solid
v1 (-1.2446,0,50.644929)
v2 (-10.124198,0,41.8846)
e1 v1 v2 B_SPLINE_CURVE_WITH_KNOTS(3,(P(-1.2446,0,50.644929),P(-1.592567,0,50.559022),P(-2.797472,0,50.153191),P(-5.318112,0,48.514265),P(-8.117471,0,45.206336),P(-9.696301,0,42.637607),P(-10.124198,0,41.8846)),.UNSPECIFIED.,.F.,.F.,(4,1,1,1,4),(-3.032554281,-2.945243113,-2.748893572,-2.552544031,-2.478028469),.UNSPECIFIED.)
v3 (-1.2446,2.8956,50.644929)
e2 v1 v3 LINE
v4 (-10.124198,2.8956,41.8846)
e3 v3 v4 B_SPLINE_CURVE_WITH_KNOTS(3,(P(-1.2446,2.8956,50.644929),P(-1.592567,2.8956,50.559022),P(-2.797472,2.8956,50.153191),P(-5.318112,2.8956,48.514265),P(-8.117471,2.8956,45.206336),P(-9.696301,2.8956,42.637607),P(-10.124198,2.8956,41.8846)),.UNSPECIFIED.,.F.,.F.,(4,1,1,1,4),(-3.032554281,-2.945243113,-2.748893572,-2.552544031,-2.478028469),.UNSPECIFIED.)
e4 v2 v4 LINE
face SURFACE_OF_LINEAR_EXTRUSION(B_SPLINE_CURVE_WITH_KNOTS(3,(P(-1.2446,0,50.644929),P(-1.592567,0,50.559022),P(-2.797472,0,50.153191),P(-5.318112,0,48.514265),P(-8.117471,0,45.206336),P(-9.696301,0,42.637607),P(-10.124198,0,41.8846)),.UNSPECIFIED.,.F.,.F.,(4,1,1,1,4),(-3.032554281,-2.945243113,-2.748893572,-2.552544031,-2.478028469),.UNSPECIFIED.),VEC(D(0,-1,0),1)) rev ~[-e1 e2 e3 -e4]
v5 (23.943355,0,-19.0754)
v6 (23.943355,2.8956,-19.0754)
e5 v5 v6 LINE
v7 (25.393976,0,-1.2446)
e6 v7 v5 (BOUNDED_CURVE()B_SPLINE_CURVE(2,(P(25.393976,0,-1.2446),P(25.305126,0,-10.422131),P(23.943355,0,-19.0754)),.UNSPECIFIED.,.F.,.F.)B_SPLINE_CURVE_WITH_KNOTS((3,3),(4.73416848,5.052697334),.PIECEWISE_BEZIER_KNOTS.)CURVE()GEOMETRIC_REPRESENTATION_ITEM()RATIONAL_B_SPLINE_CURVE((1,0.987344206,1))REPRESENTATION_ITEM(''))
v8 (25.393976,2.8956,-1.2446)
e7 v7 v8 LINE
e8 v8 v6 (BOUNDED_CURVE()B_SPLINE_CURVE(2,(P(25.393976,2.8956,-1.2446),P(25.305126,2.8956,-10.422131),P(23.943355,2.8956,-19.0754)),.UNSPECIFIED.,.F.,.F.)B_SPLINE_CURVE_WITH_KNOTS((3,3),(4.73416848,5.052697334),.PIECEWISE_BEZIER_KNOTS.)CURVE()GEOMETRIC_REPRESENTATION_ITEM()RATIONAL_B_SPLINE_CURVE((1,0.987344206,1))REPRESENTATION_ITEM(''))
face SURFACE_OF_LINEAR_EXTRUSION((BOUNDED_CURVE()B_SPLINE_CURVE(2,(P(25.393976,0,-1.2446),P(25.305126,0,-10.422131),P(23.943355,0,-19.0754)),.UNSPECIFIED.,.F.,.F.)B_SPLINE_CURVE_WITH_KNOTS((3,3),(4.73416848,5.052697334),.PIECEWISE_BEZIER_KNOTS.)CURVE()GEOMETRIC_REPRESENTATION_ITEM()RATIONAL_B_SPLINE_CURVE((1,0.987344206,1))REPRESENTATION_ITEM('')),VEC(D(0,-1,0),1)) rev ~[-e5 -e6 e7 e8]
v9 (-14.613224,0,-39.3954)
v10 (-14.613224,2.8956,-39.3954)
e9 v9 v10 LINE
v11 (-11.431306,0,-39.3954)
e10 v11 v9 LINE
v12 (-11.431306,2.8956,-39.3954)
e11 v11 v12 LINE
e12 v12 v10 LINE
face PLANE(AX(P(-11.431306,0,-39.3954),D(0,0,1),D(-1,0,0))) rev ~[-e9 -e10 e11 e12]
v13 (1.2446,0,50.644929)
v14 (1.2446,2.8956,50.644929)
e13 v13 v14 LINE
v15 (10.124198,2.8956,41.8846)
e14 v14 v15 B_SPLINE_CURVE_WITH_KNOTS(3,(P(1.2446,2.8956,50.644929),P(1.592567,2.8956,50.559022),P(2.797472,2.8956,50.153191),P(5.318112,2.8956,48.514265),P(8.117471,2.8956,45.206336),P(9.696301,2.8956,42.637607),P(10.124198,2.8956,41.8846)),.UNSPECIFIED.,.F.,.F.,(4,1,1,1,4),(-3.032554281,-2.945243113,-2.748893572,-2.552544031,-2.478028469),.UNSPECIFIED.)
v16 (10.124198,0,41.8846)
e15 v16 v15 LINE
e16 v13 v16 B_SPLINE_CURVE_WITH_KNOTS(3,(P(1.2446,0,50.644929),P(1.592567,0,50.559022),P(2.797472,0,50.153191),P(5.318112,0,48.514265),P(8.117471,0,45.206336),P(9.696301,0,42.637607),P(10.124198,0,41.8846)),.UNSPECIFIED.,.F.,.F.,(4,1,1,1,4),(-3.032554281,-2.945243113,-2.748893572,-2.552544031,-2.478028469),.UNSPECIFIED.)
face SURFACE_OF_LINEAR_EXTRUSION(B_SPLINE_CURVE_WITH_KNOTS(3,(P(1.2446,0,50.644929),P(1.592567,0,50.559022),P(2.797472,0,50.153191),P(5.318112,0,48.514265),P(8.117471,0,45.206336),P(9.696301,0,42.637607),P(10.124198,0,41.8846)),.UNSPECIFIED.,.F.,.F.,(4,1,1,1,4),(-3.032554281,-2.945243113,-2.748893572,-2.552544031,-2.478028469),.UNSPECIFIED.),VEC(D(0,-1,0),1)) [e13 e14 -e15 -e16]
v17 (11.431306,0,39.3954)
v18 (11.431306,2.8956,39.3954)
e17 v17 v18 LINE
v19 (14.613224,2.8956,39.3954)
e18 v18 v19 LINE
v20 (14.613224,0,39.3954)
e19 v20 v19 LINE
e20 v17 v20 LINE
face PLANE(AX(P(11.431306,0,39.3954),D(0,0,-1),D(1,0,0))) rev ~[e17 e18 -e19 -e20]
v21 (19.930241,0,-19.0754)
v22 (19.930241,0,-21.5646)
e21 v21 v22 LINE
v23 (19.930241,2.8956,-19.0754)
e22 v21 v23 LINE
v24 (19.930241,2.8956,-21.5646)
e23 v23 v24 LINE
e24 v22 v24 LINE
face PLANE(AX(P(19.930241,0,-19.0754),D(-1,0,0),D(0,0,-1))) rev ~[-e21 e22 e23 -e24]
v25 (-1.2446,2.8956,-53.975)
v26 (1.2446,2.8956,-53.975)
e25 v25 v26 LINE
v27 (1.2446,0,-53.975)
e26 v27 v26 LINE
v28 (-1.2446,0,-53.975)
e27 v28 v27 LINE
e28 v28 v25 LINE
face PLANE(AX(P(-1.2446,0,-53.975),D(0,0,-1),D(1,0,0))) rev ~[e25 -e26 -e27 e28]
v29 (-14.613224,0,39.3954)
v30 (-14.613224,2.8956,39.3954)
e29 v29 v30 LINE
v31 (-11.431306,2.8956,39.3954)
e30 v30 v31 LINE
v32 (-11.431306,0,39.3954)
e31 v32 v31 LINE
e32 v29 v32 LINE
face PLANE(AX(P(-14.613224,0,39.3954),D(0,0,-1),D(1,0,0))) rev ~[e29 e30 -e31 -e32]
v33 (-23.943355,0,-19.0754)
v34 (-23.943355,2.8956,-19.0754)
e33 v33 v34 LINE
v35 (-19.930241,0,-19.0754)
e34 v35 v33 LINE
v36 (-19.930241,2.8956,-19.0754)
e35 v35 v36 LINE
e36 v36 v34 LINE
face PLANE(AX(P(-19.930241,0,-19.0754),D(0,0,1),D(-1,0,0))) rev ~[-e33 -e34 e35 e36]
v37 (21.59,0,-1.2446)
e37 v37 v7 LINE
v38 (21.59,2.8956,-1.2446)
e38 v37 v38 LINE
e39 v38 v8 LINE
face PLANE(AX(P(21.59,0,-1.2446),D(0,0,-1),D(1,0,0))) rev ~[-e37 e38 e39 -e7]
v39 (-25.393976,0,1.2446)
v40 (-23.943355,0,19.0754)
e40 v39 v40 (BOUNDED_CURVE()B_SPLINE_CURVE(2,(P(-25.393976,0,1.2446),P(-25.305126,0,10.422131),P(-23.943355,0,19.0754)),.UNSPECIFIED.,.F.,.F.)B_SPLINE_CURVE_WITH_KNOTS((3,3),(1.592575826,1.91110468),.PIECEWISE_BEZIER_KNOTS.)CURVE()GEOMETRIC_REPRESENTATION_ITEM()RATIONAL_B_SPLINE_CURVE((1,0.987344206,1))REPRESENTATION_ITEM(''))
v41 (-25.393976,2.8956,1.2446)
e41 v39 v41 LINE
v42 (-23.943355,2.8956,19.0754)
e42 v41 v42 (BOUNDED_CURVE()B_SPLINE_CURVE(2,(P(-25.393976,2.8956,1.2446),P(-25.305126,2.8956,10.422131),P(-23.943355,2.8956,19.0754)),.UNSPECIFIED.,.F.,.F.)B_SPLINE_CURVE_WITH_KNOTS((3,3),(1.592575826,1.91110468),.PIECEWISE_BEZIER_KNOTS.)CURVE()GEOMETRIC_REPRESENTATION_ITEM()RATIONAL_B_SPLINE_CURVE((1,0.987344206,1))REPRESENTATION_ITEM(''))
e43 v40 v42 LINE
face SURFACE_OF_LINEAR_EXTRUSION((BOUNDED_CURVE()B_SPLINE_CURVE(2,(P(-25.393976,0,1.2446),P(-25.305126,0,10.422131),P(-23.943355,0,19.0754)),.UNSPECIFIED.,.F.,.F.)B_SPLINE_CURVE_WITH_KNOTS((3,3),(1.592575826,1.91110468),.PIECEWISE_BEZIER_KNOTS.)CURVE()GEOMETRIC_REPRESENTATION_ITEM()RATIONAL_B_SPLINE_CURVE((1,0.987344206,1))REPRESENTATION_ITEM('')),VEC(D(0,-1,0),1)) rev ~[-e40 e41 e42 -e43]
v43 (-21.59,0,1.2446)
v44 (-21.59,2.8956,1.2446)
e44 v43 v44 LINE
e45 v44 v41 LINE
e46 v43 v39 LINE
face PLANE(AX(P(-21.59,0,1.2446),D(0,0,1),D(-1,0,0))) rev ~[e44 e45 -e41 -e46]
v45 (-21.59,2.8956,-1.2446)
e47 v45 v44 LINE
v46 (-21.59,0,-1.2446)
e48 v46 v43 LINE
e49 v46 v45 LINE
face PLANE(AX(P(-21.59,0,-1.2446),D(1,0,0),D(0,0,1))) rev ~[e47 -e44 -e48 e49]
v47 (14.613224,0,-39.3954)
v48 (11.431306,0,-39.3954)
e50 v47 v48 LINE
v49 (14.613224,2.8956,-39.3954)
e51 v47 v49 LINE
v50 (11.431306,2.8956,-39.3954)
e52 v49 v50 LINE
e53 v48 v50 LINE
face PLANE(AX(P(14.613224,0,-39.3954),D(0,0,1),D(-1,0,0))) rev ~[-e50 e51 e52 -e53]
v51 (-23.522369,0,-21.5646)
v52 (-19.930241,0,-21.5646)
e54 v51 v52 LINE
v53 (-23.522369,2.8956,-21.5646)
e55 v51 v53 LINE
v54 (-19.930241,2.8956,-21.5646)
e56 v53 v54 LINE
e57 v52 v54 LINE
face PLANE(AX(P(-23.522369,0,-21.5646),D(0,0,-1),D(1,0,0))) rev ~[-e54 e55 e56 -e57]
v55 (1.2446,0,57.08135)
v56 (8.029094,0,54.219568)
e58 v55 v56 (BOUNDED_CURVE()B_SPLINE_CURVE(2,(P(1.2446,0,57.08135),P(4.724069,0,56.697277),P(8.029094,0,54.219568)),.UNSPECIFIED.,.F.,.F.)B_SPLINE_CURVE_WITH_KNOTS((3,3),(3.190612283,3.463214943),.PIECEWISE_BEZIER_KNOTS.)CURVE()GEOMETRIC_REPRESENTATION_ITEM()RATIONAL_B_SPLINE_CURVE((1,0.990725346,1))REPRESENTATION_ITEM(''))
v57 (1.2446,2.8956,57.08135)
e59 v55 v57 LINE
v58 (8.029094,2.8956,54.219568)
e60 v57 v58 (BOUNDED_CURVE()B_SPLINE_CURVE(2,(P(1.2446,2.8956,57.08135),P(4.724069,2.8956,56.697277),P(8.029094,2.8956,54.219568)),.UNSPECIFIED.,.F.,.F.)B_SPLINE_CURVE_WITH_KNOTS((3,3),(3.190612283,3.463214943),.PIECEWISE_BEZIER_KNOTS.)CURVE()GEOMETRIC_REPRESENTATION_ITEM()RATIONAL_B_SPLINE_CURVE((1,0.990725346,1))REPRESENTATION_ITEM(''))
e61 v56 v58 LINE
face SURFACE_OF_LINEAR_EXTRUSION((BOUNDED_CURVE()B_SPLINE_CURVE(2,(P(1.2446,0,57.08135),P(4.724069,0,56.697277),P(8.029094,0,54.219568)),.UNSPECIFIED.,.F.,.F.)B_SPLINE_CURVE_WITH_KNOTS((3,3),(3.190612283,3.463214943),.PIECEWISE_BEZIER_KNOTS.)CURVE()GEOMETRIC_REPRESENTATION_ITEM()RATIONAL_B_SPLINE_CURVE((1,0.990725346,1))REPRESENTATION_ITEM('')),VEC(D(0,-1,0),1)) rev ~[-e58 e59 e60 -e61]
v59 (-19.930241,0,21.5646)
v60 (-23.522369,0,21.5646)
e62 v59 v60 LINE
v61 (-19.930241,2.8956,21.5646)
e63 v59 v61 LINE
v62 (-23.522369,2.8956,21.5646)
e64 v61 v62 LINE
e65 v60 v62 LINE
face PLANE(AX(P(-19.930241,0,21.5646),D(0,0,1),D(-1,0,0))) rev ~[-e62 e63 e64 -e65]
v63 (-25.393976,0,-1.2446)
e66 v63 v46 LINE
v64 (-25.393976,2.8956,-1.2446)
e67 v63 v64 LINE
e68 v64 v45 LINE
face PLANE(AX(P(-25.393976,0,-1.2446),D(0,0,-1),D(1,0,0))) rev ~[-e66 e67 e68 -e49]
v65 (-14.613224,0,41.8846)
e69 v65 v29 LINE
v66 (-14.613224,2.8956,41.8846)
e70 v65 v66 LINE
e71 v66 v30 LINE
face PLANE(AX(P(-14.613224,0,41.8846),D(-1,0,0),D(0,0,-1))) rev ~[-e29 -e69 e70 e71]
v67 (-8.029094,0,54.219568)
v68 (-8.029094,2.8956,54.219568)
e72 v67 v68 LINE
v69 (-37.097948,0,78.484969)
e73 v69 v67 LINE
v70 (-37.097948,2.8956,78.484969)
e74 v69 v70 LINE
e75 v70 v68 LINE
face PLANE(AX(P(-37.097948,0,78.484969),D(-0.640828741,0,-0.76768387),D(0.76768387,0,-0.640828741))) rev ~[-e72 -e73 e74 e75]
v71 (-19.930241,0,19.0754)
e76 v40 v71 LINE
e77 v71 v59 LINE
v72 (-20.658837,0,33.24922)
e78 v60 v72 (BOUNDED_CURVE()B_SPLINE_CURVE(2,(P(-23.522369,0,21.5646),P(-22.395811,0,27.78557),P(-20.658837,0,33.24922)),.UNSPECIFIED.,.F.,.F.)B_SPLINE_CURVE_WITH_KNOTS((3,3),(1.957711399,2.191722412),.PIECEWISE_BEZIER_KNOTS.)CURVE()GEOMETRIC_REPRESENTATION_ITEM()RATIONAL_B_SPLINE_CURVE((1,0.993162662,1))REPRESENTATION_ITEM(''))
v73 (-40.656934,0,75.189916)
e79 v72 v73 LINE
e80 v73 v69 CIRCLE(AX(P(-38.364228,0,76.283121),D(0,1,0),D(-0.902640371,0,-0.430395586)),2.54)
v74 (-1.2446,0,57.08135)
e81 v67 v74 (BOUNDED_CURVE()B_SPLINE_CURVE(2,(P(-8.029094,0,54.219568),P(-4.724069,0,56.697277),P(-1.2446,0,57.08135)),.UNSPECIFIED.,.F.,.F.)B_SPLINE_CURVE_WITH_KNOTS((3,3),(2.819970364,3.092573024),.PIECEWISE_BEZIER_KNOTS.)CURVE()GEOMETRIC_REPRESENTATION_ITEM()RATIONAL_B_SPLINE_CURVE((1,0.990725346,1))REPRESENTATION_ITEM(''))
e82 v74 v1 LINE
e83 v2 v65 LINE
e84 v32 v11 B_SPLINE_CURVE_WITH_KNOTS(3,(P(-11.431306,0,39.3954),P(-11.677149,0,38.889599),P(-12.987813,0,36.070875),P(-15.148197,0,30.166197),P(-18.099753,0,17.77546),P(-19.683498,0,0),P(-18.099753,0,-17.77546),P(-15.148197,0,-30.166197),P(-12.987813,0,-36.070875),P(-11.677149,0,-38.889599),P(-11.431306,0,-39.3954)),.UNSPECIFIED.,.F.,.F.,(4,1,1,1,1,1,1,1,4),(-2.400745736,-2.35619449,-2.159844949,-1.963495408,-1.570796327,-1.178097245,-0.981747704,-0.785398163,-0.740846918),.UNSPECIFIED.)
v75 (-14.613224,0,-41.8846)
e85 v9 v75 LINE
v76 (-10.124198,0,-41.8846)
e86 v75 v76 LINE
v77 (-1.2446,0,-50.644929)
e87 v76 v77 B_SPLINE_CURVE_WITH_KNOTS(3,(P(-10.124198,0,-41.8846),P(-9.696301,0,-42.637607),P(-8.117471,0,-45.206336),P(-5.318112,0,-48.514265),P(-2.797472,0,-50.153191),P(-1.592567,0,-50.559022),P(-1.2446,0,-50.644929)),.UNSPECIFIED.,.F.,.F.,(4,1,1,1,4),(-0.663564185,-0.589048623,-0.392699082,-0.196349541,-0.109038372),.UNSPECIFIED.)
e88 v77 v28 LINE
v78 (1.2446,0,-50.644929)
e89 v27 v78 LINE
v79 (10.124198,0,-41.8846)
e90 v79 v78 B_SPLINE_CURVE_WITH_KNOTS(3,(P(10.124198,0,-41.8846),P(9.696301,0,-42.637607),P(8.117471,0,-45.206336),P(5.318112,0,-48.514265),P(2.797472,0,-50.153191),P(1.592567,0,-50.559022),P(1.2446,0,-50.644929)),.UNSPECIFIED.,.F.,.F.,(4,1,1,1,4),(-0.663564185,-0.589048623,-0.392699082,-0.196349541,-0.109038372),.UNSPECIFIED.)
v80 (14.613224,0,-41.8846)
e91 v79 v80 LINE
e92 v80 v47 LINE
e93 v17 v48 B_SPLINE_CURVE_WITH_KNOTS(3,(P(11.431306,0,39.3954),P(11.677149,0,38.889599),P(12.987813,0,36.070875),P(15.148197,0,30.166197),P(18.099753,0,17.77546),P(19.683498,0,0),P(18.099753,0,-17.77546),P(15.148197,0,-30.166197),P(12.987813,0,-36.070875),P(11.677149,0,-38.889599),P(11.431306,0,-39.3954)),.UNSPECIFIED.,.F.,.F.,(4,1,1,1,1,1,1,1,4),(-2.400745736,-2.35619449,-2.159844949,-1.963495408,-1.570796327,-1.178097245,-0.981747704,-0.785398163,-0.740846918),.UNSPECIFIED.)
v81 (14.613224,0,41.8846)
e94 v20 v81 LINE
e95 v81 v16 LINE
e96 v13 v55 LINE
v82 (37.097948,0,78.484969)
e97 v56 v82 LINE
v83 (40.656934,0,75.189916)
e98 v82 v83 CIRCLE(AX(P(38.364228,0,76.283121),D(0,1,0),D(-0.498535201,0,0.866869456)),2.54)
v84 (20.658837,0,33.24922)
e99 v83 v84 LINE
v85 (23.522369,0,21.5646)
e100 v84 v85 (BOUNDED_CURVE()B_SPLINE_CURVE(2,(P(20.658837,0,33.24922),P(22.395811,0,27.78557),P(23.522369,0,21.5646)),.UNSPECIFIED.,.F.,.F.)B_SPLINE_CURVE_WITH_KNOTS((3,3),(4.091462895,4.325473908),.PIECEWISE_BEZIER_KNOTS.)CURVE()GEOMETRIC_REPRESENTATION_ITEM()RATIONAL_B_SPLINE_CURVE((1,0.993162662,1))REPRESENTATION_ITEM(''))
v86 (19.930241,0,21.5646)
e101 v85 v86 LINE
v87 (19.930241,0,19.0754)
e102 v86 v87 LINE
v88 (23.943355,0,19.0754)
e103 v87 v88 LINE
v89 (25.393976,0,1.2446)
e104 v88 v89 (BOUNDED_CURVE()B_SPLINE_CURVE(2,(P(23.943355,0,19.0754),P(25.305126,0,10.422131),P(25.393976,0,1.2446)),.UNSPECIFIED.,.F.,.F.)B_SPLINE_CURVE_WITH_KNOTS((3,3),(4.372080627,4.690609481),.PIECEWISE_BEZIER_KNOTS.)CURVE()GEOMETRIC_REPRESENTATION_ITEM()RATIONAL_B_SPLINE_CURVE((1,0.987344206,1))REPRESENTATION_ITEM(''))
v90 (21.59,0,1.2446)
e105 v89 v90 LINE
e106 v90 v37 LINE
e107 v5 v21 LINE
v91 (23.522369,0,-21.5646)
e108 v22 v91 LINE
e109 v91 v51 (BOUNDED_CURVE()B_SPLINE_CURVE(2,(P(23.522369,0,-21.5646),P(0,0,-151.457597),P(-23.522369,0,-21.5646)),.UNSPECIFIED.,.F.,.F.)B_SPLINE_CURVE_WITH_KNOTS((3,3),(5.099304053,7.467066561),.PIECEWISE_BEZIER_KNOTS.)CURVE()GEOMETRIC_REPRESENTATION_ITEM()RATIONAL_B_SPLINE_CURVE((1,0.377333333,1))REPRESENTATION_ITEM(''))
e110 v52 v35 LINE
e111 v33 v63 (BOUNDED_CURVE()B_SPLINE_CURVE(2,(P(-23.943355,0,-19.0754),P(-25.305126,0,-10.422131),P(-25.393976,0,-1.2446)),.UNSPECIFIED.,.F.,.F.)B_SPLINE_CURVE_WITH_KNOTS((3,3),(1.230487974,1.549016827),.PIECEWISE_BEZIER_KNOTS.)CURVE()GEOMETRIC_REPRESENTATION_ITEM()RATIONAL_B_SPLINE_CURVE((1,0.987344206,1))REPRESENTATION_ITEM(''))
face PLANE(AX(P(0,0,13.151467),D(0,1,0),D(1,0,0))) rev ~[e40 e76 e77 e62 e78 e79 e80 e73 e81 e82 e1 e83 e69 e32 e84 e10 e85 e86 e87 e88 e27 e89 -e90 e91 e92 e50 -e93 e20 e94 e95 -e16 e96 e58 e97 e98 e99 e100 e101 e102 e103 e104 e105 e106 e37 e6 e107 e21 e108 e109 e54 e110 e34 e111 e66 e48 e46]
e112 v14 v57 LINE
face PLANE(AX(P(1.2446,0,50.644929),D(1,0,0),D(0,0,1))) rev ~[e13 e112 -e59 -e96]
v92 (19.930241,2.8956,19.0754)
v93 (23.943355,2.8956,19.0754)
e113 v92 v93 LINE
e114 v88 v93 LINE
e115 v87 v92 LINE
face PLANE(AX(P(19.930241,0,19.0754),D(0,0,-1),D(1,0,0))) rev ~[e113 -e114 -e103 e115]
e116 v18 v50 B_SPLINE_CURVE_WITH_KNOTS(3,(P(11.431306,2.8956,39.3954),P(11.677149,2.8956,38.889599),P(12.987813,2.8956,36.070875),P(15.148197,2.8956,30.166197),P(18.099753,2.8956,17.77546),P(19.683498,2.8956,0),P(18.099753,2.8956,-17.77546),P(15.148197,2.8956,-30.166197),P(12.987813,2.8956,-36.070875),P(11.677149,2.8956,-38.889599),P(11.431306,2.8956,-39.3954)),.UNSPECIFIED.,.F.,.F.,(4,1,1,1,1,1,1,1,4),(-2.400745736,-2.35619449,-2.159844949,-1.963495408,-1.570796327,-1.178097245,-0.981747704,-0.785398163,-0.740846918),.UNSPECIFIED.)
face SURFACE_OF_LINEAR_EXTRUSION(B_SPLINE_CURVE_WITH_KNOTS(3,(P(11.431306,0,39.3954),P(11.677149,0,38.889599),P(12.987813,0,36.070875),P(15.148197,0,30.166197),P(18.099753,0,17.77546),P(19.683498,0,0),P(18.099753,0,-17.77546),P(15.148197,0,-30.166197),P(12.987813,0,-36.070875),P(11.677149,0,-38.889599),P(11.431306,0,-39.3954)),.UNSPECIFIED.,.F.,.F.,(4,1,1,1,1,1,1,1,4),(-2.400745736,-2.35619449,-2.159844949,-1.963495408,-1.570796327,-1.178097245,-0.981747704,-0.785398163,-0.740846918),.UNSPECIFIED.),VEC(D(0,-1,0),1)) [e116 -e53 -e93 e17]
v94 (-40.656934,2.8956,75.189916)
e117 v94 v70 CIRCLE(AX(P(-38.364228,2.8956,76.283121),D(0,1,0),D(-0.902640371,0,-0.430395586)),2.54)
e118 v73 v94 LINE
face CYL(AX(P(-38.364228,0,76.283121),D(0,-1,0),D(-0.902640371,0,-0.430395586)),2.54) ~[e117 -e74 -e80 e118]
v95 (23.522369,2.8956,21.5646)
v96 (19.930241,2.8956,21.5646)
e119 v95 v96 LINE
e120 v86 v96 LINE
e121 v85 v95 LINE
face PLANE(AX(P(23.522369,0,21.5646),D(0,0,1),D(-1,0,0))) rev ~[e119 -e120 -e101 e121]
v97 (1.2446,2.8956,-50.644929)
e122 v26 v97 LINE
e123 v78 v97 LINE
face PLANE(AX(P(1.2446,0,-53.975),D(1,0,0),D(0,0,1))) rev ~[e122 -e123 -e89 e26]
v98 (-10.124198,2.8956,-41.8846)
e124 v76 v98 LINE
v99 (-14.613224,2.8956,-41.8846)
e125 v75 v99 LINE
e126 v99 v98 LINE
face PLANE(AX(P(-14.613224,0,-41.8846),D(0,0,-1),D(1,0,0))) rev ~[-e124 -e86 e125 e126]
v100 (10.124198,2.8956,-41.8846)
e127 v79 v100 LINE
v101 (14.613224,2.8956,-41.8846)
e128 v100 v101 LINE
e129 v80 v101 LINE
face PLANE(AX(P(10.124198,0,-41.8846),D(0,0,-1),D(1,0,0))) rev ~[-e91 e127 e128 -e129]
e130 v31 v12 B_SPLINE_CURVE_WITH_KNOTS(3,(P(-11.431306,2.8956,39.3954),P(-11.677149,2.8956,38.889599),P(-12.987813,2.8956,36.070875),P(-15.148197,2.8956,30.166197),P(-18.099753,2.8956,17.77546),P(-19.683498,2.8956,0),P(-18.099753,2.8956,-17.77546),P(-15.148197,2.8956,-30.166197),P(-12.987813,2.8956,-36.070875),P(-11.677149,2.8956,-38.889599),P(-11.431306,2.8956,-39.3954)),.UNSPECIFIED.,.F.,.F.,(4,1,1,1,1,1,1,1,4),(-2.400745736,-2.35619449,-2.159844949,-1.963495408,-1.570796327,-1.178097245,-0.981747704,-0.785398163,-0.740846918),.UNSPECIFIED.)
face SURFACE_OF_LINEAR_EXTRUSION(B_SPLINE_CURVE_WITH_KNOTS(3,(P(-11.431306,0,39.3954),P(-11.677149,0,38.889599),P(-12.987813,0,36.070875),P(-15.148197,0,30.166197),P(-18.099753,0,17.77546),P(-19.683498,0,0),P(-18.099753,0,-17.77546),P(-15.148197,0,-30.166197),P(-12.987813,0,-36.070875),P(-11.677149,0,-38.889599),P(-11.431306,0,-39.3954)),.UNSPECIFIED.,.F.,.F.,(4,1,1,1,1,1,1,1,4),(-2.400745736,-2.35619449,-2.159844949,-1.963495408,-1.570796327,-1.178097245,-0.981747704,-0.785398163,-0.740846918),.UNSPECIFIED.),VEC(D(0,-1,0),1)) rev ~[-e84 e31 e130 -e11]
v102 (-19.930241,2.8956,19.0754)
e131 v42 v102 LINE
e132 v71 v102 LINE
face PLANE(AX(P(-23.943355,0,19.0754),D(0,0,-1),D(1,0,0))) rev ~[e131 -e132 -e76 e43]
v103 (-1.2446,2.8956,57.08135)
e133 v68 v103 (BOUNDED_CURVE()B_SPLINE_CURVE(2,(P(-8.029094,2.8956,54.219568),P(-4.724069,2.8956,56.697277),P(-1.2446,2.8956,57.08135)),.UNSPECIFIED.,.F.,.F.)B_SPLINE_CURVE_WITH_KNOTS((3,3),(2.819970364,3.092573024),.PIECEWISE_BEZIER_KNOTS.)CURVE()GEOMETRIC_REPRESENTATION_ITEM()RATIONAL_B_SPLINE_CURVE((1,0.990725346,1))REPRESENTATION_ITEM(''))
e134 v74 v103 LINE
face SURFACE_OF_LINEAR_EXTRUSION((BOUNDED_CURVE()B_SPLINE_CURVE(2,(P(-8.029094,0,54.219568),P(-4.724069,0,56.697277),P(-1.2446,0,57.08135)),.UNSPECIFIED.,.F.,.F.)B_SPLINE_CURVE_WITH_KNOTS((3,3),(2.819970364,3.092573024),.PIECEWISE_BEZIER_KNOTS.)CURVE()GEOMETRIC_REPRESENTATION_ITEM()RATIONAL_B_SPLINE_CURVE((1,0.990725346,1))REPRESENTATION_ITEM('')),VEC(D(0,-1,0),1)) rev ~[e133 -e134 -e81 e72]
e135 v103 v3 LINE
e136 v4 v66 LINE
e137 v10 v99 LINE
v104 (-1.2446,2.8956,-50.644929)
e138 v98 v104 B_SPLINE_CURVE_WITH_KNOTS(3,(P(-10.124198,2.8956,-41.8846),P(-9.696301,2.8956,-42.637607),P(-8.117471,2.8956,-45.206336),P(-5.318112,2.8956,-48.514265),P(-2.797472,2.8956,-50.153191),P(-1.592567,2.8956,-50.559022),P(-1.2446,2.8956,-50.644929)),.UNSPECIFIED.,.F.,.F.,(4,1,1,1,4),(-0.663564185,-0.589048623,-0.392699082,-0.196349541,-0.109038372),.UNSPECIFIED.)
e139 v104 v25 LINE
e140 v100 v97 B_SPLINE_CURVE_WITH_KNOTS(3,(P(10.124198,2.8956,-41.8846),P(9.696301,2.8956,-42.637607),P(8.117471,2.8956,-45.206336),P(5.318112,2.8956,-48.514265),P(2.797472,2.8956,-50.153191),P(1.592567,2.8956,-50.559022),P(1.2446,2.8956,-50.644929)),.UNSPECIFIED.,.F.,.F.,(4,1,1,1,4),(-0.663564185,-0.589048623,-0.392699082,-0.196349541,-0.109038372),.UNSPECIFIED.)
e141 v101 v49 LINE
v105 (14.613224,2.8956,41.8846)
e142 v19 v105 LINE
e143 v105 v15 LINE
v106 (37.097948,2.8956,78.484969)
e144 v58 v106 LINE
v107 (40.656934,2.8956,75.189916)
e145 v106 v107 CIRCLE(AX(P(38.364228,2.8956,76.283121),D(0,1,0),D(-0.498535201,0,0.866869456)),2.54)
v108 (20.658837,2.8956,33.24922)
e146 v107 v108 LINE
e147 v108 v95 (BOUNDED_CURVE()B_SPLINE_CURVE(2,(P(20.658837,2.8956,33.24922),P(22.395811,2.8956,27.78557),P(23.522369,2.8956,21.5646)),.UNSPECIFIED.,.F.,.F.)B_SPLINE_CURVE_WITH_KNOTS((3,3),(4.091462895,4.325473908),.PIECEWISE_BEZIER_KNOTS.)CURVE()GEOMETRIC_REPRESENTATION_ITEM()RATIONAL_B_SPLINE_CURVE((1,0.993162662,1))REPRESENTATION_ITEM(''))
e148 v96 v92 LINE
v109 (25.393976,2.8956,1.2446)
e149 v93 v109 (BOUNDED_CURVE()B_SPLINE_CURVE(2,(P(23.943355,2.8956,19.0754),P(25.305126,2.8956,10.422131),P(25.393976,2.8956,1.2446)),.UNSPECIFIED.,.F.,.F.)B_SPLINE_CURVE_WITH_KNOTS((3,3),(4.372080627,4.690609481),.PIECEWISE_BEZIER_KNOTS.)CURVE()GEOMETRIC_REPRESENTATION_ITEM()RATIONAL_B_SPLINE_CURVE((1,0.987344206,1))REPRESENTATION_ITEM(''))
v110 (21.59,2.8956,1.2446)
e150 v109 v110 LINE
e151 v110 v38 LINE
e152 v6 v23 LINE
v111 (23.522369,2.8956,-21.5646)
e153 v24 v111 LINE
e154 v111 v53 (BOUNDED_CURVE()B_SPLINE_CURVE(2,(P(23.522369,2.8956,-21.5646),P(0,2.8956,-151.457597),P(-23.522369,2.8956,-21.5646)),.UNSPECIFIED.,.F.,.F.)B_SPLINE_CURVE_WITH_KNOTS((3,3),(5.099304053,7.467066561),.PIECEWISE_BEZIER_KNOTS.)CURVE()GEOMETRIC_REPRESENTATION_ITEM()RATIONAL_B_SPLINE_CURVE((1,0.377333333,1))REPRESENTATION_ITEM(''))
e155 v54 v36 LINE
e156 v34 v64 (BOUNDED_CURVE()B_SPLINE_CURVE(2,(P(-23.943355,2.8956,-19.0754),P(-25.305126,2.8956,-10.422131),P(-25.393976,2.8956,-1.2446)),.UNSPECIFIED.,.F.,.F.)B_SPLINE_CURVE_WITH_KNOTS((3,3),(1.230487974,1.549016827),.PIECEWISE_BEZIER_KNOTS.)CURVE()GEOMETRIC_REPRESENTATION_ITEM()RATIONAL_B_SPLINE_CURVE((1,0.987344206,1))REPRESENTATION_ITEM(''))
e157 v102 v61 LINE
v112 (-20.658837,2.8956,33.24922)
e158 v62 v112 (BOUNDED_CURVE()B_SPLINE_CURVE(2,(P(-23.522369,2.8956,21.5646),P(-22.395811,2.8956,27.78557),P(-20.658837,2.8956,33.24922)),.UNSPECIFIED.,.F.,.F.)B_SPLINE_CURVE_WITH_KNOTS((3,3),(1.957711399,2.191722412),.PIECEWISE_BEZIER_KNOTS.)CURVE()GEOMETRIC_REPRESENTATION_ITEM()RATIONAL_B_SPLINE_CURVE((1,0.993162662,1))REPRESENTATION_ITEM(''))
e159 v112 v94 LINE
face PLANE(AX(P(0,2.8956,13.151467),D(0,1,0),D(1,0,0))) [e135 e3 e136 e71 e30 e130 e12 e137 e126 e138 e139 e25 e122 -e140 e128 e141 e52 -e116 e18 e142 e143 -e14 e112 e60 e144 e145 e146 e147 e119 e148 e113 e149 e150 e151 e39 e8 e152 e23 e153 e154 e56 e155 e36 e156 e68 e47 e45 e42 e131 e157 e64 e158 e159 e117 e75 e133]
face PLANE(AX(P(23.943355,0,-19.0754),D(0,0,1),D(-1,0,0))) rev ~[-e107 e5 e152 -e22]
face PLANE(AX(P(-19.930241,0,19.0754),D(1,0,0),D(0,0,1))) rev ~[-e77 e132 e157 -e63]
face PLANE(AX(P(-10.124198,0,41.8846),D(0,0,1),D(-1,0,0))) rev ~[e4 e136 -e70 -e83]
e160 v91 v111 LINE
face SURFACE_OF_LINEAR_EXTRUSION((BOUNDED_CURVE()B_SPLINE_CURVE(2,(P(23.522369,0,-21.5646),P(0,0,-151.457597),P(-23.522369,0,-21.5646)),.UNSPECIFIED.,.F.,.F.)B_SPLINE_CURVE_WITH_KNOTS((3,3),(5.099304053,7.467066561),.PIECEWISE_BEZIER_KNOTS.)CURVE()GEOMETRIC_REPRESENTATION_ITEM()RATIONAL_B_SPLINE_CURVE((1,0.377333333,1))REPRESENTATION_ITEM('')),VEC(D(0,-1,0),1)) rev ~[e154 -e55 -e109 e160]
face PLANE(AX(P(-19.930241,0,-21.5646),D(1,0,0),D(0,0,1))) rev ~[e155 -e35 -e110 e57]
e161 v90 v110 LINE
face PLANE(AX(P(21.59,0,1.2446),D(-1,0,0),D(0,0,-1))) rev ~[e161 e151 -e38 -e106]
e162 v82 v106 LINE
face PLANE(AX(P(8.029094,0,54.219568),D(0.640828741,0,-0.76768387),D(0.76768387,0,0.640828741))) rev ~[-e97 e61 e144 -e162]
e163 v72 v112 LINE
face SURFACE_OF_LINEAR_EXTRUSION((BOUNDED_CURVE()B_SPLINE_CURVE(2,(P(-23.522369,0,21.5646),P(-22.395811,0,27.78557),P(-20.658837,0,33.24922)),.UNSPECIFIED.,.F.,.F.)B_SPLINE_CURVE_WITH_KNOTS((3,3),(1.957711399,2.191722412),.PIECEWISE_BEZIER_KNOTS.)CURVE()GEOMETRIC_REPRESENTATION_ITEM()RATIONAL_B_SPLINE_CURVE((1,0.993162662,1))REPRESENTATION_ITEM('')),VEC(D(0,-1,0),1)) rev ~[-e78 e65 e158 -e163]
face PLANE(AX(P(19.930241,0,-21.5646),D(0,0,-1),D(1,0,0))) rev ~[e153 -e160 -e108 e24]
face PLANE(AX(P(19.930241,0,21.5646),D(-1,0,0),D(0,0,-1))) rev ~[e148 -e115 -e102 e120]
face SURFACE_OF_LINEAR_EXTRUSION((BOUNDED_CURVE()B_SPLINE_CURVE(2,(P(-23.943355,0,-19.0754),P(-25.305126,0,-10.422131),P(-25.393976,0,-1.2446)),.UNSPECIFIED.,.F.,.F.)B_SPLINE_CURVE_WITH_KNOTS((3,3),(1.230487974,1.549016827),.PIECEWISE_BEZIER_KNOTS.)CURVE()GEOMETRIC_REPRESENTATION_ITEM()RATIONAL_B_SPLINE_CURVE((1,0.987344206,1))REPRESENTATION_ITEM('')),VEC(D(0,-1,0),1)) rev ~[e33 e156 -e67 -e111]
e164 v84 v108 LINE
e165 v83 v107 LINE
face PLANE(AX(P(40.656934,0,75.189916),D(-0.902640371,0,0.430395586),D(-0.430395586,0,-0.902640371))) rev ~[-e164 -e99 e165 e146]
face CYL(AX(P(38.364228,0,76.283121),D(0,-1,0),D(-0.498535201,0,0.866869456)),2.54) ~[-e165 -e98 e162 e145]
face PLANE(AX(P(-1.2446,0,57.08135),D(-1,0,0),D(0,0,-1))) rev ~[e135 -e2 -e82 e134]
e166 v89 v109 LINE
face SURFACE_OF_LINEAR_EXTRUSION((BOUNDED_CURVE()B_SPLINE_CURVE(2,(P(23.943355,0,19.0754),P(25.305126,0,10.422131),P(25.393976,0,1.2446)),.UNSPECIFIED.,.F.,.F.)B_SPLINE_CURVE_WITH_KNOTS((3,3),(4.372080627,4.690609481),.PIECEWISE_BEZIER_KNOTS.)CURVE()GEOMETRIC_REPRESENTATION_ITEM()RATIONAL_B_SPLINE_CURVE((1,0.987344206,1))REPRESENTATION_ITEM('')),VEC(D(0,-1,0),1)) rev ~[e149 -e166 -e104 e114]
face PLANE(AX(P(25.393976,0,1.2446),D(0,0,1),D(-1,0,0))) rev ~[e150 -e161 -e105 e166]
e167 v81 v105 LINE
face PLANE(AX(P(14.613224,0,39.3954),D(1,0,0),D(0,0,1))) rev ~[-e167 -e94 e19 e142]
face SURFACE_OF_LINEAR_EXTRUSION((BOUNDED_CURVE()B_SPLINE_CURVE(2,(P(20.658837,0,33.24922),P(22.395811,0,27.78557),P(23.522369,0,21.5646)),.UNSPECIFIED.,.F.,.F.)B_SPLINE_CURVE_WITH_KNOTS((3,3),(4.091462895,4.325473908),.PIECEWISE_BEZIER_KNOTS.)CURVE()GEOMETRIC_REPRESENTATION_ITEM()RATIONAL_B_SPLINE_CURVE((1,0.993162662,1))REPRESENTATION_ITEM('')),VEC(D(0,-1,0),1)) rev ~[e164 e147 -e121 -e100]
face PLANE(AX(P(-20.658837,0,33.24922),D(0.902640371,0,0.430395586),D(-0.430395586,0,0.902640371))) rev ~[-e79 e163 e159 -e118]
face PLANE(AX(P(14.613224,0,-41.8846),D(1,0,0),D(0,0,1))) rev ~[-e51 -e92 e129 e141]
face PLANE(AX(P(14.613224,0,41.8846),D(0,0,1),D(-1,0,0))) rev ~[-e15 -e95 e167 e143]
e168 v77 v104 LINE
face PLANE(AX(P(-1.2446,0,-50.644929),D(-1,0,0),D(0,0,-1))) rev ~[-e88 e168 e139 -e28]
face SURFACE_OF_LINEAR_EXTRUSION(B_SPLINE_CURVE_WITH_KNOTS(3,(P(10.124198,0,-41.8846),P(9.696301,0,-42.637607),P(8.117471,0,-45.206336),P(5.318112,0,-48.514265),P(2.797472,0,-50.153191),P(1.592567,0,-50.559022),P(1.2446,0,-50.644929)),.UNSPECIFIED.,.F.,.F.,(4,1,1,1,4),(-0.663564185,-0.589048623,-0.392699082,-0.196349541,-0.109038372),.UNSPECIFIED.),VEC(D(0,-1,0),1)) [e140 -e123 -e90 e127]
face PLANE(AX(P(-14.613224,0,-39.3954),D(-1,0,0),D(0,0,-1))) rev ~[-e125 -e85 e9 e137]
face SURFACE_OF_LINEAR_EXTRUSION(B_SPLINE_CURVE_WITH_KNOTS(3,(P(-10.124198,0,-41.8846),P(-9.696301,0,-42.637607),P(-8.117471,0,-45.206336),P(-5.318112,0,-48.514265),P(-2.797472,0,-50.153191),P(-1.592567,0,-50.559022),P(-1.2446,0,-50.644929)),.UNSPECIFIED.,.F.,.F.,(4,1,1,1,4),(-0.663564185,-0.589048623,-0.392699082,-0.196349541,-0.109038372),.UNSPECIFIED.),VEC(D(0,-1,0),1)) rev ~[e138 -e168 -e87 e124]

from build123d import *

# Parameters (mm, degrees)
BOSS_EXTRUDE1_DEPTH = 2.8956


with BuildPart() as part:
    # Sketch1 → Boss-Extrude1 (new body)
    with BuildSketch(Plane(origin=(0, 0, 0), x_dir=(1, 0, 0), z_dir=(0, 1, 0))):
        with BuildLine():
            Line((21.59, 1.2446), (25.393976036, 1.2446))
            add(Edge.make_bspline(
                [(25.393976036, 1.2446), (25.305125525, 10.422131382), (23.943355437, 19.0754)],
                knots=[4.73416848, 4.73416848, 4.73416848, 5.052697334, 5.052697334, 5.052697334], degree=2, weights=[1, 0.987344206, 1]))
            Line((23.943355437, 19.0754), (19.930240776, 19.0754))
            Line((19.930240776, 19.0754), (19.930240776, 21.5646))
            Line((19.930240776, 21.5646), (23.522368768, 21.5646))
            add(Edge.make_bspline(
                [(23.522368768, 21.5646), (0, 151.457597173), (-23.522368768, 21.5646)],
                knots=[5.099304053, 5.099304053, 5.099304053, 7.467066561, 7.467066561, 7.467066561], degree=2, weights=[1, 0.377333333, 1]))
            Line((-23.522368768, 21.5646), (-19.930240776, 21.5646))
            Line((-19.930240776, 21.5646), (-19.930240776, 19.0754))
            Line((-19.930240776, 19.0754), (-23.943355437, 19.0754))
            add(Edge.make_bspline(
                [(-23.943355437, 19.0754), (-25.305125525, 10.422131382), (-25.393976036, 1.2446)],
                knots=[1.230487974, 1.230487974, 1.230487974, 1.549016827, 1.549016827, 1.549016827], degree=2, weights=[1, 0.987344206, 1]))
            Line((-25.393976036, 1.2446), (-21.59, 1.2446))
            Line((-21.59, 1.2446), (-21.59, -1.2446))
            Line((-21.59, -1.2446), (-25.393976036, -1.2446))
            add(Edge.make_bspline(
                [(-25.393976036, -1.2446), (-25.305125525, -10.422131382), (-23.943355437, -19.0754)],
                knots=[1.592575826, 1.592575826, 1.592575826, 1.91110468, 1.91110468, 1.91110468], degree=2, weights=[1, 0.987344206, 1]))
            Line((-23.943355437, -19.0754), (-19.930240776, -19.0754))
            Line((-19.930240776, -19.0754), (-19.930240776, -21.5646))
            Line((-19.930240776, -21.5646), (-23.522368768, -21.5646))
            add(Edge.make_bspline(
                [(-23.522368768, -21.5646), (-22.395811131, -27.785569894), (-20.658836503, -33.249220312)],
                knots=[1.957711399, 1.957711399, 1.957711399, 2.191722412, 2.191722412, 2.191722412], degree=2, weights=[1, 0.993162662, 1]))
            Line((-20.658836503, -33.249220312), (-40.656934115, -75.189915873))
            ThreePointArc((-40.656934115, -75.189915873), (-40.089838211, -78.146952179), (-37.097948163, -78.484969079))
            Line((-37.097948163, -78.484969079), (-8.029094451, -54.219568092))
            add(Edge.make_bspline(
                [(-8.029094451, -54.219568092), (-4.724069079, -56.697277371), (-1.2446, -57.081350193)],
                knots=[2.819970364, 2.819970364, 2.819970364, 3.092573024, 3.092573024, 3.092573024], degree=2, weights=[1, 0.990725346, 1]))
            Line((-1.2446, -57.081350193), (-1.2446, -53.975))
            Line((-1.2446, -53.975), (-1.2446, -50.644928526))
            add(Edge.make_bspline(
                [(-1.2446, -50.644928526), (-1.592566722, -50.559021859), (-2.797472305, -50.153191319), (-5.318112389, -48.514264833), (-8.117471478, -45.20633596), (-9.696301311, -42.637606864), (-10.124198394, -41.884600001)],
                knots=[-3.032554281, -3.032554281, -3.032554281, -3.032554281, -2.945243113, -2.748893572, -2.552544031, -2.478028469, -2.478028469, -2.478028469, -2.478028469], degree=3))
            Line((-10.124198394, -41.884600001), (-14.613224312, -41.884600001))
            Line((-14.613224312, -41.884600001), (-14.613224312, -39.395400001))
            Line((-14.613224312, -39.395400001), (-11.431305901, -39.395400001))
            add(Edge.make_bspline(
                [(-11.431305901, -39.395400001), (-11.677149239, -38.889598832), (-12.987812642, -36.070874709), (-15.148196965, -30.166196648), (-18.099752632, -17.775460251), (-19.683498245, 0), (-18.099752632, 17.775460251), (-15.148196965, 30.166196648), (-12.987812642, 36.070874709), (-11.677149239, 38.889598832), (-11.431305901, 39.395400001)],
                knots=[-2.400745736, -2.400745736, -2.400745736, -2.400745736, -2.35619449, -2.159844949, -1.963495408, -1.570796327, -1.178097245, -0.981747704, -0.785398163, -0.740846918, -0.740846918, -0.740846918, -0.740846918], degree=3))
            Line((-11.431305901, 39.395400001), (-14.613224312, 39.395400001))
            Line((-14.613224312, 39.395400001), (-14.613224312, 41.884600001))
            Line((-14.613224312, 41.884600001), (-10.124198394, 41.884600001))
            add(Edge.make_bspline(
                [(-10.124198394, 41.884600001), (-9.696301311, 42.637606864), (-8.117471478, 45.20633596), (-5.318112389, 48.514264833), (-2.797472305, 50.153191319), (-1.592566722, 50.559021859), (-1.2446, 50.644928526)],
                knots=[-0.663564185, -0.663564185, -0.663564185, -0.663564185, -0.589048623, -0.392699082, -0.196349541, -0.109038372, -0.109038372, -0.109038372, -0.109038372], degree=3))
            Line((-1.2446, 50.644928526), (-1.2446, 53.975))
            Line((-1.2446, 53.975), (1.2446, 53.975))
            Line((1.2446, 53.975), (1.2446, 50.644928526))
            add(Edge.make_bspline(
                [(10.124198394, 41.884600001), (9.696301311, 42.637606864), (8.117471478, 45.20633596), (5.318112389, 48.514264833), (2.797472305, 50.153191319), (1.592566722, 50.559021859), (1.2446, 50.644928526)],
                knots=[-0.663564185, -0.663564185, -0.663564185, -0.663564185, -0.589048623, -0.392699082, -0.196349541, -0.109038372, -0.109038372, -0.109038372, -0.109038372], degree=3))
            Line((10.124198394, 41.884600001), (14.613224312, 41.884600001))
            Line((14.613224312, 41.884600001), (14.613224312, 39.395400001))
            Line((14.613224312, 39.395400001), (11.431305901, 39.395400001))
            add(Edge.make_bspline(
                [(11.431305901, -39.395400001), (11.677149239, -38.889598832), (12.987812642, -36.070874709), (15.148196965, -30.166196648), (18.099752632, -17.775460251), (19.683498245, 0), (18.099752632, 17.775460251), (15.148196965, 30.166196648), (12.987812642, 36.070874709), (11.677149239, 38.889598832), (11.431305901, 39.395400001)],
                knots=[-2.400745736, -2.400745736, -2.400745736, -2.400745736, -2.35619449, -2.159844949, -1.963495408, -1.570796327, -1.178097245, -0.981747704, -0.785398163, -0.740846918, -0.740846918, -0.740846918, -0.740846918], degree=3))
            Line((11.431305901, -39.395400001), (14.613224312, -39.395400001))
            Line((14.613224312, -39.395400001), (14.613224312, -41.884600001))
            Line((14.613224312, -41.884600001), (10.124198394, -41.884600001))
            add(Edge.make_bspline(
                [(1.2446, -50.644928526), (1.592566722, -50.559021859), (2.797472305, -50.153191319), (5.318112389, -48.514264833), (8.117471478, -45.20633596), (9.696301311, -42.637606864), (10.124198394, -41.884600001)],
                knots=[-3.032554281, -3.032554281, -3.032554281, -3.032554281, -2.945243113, -2.748893572, -2.552544031, -2.478028469, -2.478028469, -2.478028469, -2.478028469], degree=3))
            Line((1.2446, -50.644928526), (1.2446, -53.975))
            Line((1.2446, -53.975), (1.2446, -57.081350193))
            add(Edge.make_bspline(
                [(1.2446, -57.081350193), (4.724069079, -56.697277371), (8.029094451, -54.219568092)],
                knots=[3.190612283, 3.190612283, 3.190612283, 3.463214943, 3.463214943, 3.463214943], degree=2, weights=[1, 0.990725346, 1]))
            Line((8.029094451, -54.219568092), (37.097948163, -78.484969079))
            ThreePointArc((37.097948163, -78.484969079), (40.089838211, -78.146952179), (40.656934115, -75.189915873))
            Line((40.656934115, -75.189915873), (20.658836503, -33.249220312))
            add(Edge.make_bspline(
                [(20.658836503, -33.249220312), (22.395811131, -27.785569894), (23.522368768, -21.5646)],
                knots=[4.091462895, 4.091462895, 4.091462895, 4.325473908, 4.325473908, 4.325473908], degree=2, weights=[1, 0.993162662, 1]))
            Line((23.522368768, -21.5646), (19.930240776, -21.5646))
            Line((19.930240776, -21.5646), (19.930240776, -19.0754))
            Line((19.930240776, -19.0754), (23.943355437, -19.0754))
            add(Edge.make_bspline(
                [(23.943355437, -19.0754), (25.305125525, -10.422131382), (25.393976036, -1.2446)],
                knots=[4.372080627, 4.372080627, 4.372080627, 4.690609481, 4.690609481, 4.690609481], degree=2, weights=[1, 0.987344206, 1]))
            Line((25.393976036, -1.2446), (21.59, -1.2446))
            Line((21.59, -1.2446), (21.59, 1.2446))
        make_face()
    extrude(amount=BOSS_EXTRUDE1_DEPTH)


solid = part.part
